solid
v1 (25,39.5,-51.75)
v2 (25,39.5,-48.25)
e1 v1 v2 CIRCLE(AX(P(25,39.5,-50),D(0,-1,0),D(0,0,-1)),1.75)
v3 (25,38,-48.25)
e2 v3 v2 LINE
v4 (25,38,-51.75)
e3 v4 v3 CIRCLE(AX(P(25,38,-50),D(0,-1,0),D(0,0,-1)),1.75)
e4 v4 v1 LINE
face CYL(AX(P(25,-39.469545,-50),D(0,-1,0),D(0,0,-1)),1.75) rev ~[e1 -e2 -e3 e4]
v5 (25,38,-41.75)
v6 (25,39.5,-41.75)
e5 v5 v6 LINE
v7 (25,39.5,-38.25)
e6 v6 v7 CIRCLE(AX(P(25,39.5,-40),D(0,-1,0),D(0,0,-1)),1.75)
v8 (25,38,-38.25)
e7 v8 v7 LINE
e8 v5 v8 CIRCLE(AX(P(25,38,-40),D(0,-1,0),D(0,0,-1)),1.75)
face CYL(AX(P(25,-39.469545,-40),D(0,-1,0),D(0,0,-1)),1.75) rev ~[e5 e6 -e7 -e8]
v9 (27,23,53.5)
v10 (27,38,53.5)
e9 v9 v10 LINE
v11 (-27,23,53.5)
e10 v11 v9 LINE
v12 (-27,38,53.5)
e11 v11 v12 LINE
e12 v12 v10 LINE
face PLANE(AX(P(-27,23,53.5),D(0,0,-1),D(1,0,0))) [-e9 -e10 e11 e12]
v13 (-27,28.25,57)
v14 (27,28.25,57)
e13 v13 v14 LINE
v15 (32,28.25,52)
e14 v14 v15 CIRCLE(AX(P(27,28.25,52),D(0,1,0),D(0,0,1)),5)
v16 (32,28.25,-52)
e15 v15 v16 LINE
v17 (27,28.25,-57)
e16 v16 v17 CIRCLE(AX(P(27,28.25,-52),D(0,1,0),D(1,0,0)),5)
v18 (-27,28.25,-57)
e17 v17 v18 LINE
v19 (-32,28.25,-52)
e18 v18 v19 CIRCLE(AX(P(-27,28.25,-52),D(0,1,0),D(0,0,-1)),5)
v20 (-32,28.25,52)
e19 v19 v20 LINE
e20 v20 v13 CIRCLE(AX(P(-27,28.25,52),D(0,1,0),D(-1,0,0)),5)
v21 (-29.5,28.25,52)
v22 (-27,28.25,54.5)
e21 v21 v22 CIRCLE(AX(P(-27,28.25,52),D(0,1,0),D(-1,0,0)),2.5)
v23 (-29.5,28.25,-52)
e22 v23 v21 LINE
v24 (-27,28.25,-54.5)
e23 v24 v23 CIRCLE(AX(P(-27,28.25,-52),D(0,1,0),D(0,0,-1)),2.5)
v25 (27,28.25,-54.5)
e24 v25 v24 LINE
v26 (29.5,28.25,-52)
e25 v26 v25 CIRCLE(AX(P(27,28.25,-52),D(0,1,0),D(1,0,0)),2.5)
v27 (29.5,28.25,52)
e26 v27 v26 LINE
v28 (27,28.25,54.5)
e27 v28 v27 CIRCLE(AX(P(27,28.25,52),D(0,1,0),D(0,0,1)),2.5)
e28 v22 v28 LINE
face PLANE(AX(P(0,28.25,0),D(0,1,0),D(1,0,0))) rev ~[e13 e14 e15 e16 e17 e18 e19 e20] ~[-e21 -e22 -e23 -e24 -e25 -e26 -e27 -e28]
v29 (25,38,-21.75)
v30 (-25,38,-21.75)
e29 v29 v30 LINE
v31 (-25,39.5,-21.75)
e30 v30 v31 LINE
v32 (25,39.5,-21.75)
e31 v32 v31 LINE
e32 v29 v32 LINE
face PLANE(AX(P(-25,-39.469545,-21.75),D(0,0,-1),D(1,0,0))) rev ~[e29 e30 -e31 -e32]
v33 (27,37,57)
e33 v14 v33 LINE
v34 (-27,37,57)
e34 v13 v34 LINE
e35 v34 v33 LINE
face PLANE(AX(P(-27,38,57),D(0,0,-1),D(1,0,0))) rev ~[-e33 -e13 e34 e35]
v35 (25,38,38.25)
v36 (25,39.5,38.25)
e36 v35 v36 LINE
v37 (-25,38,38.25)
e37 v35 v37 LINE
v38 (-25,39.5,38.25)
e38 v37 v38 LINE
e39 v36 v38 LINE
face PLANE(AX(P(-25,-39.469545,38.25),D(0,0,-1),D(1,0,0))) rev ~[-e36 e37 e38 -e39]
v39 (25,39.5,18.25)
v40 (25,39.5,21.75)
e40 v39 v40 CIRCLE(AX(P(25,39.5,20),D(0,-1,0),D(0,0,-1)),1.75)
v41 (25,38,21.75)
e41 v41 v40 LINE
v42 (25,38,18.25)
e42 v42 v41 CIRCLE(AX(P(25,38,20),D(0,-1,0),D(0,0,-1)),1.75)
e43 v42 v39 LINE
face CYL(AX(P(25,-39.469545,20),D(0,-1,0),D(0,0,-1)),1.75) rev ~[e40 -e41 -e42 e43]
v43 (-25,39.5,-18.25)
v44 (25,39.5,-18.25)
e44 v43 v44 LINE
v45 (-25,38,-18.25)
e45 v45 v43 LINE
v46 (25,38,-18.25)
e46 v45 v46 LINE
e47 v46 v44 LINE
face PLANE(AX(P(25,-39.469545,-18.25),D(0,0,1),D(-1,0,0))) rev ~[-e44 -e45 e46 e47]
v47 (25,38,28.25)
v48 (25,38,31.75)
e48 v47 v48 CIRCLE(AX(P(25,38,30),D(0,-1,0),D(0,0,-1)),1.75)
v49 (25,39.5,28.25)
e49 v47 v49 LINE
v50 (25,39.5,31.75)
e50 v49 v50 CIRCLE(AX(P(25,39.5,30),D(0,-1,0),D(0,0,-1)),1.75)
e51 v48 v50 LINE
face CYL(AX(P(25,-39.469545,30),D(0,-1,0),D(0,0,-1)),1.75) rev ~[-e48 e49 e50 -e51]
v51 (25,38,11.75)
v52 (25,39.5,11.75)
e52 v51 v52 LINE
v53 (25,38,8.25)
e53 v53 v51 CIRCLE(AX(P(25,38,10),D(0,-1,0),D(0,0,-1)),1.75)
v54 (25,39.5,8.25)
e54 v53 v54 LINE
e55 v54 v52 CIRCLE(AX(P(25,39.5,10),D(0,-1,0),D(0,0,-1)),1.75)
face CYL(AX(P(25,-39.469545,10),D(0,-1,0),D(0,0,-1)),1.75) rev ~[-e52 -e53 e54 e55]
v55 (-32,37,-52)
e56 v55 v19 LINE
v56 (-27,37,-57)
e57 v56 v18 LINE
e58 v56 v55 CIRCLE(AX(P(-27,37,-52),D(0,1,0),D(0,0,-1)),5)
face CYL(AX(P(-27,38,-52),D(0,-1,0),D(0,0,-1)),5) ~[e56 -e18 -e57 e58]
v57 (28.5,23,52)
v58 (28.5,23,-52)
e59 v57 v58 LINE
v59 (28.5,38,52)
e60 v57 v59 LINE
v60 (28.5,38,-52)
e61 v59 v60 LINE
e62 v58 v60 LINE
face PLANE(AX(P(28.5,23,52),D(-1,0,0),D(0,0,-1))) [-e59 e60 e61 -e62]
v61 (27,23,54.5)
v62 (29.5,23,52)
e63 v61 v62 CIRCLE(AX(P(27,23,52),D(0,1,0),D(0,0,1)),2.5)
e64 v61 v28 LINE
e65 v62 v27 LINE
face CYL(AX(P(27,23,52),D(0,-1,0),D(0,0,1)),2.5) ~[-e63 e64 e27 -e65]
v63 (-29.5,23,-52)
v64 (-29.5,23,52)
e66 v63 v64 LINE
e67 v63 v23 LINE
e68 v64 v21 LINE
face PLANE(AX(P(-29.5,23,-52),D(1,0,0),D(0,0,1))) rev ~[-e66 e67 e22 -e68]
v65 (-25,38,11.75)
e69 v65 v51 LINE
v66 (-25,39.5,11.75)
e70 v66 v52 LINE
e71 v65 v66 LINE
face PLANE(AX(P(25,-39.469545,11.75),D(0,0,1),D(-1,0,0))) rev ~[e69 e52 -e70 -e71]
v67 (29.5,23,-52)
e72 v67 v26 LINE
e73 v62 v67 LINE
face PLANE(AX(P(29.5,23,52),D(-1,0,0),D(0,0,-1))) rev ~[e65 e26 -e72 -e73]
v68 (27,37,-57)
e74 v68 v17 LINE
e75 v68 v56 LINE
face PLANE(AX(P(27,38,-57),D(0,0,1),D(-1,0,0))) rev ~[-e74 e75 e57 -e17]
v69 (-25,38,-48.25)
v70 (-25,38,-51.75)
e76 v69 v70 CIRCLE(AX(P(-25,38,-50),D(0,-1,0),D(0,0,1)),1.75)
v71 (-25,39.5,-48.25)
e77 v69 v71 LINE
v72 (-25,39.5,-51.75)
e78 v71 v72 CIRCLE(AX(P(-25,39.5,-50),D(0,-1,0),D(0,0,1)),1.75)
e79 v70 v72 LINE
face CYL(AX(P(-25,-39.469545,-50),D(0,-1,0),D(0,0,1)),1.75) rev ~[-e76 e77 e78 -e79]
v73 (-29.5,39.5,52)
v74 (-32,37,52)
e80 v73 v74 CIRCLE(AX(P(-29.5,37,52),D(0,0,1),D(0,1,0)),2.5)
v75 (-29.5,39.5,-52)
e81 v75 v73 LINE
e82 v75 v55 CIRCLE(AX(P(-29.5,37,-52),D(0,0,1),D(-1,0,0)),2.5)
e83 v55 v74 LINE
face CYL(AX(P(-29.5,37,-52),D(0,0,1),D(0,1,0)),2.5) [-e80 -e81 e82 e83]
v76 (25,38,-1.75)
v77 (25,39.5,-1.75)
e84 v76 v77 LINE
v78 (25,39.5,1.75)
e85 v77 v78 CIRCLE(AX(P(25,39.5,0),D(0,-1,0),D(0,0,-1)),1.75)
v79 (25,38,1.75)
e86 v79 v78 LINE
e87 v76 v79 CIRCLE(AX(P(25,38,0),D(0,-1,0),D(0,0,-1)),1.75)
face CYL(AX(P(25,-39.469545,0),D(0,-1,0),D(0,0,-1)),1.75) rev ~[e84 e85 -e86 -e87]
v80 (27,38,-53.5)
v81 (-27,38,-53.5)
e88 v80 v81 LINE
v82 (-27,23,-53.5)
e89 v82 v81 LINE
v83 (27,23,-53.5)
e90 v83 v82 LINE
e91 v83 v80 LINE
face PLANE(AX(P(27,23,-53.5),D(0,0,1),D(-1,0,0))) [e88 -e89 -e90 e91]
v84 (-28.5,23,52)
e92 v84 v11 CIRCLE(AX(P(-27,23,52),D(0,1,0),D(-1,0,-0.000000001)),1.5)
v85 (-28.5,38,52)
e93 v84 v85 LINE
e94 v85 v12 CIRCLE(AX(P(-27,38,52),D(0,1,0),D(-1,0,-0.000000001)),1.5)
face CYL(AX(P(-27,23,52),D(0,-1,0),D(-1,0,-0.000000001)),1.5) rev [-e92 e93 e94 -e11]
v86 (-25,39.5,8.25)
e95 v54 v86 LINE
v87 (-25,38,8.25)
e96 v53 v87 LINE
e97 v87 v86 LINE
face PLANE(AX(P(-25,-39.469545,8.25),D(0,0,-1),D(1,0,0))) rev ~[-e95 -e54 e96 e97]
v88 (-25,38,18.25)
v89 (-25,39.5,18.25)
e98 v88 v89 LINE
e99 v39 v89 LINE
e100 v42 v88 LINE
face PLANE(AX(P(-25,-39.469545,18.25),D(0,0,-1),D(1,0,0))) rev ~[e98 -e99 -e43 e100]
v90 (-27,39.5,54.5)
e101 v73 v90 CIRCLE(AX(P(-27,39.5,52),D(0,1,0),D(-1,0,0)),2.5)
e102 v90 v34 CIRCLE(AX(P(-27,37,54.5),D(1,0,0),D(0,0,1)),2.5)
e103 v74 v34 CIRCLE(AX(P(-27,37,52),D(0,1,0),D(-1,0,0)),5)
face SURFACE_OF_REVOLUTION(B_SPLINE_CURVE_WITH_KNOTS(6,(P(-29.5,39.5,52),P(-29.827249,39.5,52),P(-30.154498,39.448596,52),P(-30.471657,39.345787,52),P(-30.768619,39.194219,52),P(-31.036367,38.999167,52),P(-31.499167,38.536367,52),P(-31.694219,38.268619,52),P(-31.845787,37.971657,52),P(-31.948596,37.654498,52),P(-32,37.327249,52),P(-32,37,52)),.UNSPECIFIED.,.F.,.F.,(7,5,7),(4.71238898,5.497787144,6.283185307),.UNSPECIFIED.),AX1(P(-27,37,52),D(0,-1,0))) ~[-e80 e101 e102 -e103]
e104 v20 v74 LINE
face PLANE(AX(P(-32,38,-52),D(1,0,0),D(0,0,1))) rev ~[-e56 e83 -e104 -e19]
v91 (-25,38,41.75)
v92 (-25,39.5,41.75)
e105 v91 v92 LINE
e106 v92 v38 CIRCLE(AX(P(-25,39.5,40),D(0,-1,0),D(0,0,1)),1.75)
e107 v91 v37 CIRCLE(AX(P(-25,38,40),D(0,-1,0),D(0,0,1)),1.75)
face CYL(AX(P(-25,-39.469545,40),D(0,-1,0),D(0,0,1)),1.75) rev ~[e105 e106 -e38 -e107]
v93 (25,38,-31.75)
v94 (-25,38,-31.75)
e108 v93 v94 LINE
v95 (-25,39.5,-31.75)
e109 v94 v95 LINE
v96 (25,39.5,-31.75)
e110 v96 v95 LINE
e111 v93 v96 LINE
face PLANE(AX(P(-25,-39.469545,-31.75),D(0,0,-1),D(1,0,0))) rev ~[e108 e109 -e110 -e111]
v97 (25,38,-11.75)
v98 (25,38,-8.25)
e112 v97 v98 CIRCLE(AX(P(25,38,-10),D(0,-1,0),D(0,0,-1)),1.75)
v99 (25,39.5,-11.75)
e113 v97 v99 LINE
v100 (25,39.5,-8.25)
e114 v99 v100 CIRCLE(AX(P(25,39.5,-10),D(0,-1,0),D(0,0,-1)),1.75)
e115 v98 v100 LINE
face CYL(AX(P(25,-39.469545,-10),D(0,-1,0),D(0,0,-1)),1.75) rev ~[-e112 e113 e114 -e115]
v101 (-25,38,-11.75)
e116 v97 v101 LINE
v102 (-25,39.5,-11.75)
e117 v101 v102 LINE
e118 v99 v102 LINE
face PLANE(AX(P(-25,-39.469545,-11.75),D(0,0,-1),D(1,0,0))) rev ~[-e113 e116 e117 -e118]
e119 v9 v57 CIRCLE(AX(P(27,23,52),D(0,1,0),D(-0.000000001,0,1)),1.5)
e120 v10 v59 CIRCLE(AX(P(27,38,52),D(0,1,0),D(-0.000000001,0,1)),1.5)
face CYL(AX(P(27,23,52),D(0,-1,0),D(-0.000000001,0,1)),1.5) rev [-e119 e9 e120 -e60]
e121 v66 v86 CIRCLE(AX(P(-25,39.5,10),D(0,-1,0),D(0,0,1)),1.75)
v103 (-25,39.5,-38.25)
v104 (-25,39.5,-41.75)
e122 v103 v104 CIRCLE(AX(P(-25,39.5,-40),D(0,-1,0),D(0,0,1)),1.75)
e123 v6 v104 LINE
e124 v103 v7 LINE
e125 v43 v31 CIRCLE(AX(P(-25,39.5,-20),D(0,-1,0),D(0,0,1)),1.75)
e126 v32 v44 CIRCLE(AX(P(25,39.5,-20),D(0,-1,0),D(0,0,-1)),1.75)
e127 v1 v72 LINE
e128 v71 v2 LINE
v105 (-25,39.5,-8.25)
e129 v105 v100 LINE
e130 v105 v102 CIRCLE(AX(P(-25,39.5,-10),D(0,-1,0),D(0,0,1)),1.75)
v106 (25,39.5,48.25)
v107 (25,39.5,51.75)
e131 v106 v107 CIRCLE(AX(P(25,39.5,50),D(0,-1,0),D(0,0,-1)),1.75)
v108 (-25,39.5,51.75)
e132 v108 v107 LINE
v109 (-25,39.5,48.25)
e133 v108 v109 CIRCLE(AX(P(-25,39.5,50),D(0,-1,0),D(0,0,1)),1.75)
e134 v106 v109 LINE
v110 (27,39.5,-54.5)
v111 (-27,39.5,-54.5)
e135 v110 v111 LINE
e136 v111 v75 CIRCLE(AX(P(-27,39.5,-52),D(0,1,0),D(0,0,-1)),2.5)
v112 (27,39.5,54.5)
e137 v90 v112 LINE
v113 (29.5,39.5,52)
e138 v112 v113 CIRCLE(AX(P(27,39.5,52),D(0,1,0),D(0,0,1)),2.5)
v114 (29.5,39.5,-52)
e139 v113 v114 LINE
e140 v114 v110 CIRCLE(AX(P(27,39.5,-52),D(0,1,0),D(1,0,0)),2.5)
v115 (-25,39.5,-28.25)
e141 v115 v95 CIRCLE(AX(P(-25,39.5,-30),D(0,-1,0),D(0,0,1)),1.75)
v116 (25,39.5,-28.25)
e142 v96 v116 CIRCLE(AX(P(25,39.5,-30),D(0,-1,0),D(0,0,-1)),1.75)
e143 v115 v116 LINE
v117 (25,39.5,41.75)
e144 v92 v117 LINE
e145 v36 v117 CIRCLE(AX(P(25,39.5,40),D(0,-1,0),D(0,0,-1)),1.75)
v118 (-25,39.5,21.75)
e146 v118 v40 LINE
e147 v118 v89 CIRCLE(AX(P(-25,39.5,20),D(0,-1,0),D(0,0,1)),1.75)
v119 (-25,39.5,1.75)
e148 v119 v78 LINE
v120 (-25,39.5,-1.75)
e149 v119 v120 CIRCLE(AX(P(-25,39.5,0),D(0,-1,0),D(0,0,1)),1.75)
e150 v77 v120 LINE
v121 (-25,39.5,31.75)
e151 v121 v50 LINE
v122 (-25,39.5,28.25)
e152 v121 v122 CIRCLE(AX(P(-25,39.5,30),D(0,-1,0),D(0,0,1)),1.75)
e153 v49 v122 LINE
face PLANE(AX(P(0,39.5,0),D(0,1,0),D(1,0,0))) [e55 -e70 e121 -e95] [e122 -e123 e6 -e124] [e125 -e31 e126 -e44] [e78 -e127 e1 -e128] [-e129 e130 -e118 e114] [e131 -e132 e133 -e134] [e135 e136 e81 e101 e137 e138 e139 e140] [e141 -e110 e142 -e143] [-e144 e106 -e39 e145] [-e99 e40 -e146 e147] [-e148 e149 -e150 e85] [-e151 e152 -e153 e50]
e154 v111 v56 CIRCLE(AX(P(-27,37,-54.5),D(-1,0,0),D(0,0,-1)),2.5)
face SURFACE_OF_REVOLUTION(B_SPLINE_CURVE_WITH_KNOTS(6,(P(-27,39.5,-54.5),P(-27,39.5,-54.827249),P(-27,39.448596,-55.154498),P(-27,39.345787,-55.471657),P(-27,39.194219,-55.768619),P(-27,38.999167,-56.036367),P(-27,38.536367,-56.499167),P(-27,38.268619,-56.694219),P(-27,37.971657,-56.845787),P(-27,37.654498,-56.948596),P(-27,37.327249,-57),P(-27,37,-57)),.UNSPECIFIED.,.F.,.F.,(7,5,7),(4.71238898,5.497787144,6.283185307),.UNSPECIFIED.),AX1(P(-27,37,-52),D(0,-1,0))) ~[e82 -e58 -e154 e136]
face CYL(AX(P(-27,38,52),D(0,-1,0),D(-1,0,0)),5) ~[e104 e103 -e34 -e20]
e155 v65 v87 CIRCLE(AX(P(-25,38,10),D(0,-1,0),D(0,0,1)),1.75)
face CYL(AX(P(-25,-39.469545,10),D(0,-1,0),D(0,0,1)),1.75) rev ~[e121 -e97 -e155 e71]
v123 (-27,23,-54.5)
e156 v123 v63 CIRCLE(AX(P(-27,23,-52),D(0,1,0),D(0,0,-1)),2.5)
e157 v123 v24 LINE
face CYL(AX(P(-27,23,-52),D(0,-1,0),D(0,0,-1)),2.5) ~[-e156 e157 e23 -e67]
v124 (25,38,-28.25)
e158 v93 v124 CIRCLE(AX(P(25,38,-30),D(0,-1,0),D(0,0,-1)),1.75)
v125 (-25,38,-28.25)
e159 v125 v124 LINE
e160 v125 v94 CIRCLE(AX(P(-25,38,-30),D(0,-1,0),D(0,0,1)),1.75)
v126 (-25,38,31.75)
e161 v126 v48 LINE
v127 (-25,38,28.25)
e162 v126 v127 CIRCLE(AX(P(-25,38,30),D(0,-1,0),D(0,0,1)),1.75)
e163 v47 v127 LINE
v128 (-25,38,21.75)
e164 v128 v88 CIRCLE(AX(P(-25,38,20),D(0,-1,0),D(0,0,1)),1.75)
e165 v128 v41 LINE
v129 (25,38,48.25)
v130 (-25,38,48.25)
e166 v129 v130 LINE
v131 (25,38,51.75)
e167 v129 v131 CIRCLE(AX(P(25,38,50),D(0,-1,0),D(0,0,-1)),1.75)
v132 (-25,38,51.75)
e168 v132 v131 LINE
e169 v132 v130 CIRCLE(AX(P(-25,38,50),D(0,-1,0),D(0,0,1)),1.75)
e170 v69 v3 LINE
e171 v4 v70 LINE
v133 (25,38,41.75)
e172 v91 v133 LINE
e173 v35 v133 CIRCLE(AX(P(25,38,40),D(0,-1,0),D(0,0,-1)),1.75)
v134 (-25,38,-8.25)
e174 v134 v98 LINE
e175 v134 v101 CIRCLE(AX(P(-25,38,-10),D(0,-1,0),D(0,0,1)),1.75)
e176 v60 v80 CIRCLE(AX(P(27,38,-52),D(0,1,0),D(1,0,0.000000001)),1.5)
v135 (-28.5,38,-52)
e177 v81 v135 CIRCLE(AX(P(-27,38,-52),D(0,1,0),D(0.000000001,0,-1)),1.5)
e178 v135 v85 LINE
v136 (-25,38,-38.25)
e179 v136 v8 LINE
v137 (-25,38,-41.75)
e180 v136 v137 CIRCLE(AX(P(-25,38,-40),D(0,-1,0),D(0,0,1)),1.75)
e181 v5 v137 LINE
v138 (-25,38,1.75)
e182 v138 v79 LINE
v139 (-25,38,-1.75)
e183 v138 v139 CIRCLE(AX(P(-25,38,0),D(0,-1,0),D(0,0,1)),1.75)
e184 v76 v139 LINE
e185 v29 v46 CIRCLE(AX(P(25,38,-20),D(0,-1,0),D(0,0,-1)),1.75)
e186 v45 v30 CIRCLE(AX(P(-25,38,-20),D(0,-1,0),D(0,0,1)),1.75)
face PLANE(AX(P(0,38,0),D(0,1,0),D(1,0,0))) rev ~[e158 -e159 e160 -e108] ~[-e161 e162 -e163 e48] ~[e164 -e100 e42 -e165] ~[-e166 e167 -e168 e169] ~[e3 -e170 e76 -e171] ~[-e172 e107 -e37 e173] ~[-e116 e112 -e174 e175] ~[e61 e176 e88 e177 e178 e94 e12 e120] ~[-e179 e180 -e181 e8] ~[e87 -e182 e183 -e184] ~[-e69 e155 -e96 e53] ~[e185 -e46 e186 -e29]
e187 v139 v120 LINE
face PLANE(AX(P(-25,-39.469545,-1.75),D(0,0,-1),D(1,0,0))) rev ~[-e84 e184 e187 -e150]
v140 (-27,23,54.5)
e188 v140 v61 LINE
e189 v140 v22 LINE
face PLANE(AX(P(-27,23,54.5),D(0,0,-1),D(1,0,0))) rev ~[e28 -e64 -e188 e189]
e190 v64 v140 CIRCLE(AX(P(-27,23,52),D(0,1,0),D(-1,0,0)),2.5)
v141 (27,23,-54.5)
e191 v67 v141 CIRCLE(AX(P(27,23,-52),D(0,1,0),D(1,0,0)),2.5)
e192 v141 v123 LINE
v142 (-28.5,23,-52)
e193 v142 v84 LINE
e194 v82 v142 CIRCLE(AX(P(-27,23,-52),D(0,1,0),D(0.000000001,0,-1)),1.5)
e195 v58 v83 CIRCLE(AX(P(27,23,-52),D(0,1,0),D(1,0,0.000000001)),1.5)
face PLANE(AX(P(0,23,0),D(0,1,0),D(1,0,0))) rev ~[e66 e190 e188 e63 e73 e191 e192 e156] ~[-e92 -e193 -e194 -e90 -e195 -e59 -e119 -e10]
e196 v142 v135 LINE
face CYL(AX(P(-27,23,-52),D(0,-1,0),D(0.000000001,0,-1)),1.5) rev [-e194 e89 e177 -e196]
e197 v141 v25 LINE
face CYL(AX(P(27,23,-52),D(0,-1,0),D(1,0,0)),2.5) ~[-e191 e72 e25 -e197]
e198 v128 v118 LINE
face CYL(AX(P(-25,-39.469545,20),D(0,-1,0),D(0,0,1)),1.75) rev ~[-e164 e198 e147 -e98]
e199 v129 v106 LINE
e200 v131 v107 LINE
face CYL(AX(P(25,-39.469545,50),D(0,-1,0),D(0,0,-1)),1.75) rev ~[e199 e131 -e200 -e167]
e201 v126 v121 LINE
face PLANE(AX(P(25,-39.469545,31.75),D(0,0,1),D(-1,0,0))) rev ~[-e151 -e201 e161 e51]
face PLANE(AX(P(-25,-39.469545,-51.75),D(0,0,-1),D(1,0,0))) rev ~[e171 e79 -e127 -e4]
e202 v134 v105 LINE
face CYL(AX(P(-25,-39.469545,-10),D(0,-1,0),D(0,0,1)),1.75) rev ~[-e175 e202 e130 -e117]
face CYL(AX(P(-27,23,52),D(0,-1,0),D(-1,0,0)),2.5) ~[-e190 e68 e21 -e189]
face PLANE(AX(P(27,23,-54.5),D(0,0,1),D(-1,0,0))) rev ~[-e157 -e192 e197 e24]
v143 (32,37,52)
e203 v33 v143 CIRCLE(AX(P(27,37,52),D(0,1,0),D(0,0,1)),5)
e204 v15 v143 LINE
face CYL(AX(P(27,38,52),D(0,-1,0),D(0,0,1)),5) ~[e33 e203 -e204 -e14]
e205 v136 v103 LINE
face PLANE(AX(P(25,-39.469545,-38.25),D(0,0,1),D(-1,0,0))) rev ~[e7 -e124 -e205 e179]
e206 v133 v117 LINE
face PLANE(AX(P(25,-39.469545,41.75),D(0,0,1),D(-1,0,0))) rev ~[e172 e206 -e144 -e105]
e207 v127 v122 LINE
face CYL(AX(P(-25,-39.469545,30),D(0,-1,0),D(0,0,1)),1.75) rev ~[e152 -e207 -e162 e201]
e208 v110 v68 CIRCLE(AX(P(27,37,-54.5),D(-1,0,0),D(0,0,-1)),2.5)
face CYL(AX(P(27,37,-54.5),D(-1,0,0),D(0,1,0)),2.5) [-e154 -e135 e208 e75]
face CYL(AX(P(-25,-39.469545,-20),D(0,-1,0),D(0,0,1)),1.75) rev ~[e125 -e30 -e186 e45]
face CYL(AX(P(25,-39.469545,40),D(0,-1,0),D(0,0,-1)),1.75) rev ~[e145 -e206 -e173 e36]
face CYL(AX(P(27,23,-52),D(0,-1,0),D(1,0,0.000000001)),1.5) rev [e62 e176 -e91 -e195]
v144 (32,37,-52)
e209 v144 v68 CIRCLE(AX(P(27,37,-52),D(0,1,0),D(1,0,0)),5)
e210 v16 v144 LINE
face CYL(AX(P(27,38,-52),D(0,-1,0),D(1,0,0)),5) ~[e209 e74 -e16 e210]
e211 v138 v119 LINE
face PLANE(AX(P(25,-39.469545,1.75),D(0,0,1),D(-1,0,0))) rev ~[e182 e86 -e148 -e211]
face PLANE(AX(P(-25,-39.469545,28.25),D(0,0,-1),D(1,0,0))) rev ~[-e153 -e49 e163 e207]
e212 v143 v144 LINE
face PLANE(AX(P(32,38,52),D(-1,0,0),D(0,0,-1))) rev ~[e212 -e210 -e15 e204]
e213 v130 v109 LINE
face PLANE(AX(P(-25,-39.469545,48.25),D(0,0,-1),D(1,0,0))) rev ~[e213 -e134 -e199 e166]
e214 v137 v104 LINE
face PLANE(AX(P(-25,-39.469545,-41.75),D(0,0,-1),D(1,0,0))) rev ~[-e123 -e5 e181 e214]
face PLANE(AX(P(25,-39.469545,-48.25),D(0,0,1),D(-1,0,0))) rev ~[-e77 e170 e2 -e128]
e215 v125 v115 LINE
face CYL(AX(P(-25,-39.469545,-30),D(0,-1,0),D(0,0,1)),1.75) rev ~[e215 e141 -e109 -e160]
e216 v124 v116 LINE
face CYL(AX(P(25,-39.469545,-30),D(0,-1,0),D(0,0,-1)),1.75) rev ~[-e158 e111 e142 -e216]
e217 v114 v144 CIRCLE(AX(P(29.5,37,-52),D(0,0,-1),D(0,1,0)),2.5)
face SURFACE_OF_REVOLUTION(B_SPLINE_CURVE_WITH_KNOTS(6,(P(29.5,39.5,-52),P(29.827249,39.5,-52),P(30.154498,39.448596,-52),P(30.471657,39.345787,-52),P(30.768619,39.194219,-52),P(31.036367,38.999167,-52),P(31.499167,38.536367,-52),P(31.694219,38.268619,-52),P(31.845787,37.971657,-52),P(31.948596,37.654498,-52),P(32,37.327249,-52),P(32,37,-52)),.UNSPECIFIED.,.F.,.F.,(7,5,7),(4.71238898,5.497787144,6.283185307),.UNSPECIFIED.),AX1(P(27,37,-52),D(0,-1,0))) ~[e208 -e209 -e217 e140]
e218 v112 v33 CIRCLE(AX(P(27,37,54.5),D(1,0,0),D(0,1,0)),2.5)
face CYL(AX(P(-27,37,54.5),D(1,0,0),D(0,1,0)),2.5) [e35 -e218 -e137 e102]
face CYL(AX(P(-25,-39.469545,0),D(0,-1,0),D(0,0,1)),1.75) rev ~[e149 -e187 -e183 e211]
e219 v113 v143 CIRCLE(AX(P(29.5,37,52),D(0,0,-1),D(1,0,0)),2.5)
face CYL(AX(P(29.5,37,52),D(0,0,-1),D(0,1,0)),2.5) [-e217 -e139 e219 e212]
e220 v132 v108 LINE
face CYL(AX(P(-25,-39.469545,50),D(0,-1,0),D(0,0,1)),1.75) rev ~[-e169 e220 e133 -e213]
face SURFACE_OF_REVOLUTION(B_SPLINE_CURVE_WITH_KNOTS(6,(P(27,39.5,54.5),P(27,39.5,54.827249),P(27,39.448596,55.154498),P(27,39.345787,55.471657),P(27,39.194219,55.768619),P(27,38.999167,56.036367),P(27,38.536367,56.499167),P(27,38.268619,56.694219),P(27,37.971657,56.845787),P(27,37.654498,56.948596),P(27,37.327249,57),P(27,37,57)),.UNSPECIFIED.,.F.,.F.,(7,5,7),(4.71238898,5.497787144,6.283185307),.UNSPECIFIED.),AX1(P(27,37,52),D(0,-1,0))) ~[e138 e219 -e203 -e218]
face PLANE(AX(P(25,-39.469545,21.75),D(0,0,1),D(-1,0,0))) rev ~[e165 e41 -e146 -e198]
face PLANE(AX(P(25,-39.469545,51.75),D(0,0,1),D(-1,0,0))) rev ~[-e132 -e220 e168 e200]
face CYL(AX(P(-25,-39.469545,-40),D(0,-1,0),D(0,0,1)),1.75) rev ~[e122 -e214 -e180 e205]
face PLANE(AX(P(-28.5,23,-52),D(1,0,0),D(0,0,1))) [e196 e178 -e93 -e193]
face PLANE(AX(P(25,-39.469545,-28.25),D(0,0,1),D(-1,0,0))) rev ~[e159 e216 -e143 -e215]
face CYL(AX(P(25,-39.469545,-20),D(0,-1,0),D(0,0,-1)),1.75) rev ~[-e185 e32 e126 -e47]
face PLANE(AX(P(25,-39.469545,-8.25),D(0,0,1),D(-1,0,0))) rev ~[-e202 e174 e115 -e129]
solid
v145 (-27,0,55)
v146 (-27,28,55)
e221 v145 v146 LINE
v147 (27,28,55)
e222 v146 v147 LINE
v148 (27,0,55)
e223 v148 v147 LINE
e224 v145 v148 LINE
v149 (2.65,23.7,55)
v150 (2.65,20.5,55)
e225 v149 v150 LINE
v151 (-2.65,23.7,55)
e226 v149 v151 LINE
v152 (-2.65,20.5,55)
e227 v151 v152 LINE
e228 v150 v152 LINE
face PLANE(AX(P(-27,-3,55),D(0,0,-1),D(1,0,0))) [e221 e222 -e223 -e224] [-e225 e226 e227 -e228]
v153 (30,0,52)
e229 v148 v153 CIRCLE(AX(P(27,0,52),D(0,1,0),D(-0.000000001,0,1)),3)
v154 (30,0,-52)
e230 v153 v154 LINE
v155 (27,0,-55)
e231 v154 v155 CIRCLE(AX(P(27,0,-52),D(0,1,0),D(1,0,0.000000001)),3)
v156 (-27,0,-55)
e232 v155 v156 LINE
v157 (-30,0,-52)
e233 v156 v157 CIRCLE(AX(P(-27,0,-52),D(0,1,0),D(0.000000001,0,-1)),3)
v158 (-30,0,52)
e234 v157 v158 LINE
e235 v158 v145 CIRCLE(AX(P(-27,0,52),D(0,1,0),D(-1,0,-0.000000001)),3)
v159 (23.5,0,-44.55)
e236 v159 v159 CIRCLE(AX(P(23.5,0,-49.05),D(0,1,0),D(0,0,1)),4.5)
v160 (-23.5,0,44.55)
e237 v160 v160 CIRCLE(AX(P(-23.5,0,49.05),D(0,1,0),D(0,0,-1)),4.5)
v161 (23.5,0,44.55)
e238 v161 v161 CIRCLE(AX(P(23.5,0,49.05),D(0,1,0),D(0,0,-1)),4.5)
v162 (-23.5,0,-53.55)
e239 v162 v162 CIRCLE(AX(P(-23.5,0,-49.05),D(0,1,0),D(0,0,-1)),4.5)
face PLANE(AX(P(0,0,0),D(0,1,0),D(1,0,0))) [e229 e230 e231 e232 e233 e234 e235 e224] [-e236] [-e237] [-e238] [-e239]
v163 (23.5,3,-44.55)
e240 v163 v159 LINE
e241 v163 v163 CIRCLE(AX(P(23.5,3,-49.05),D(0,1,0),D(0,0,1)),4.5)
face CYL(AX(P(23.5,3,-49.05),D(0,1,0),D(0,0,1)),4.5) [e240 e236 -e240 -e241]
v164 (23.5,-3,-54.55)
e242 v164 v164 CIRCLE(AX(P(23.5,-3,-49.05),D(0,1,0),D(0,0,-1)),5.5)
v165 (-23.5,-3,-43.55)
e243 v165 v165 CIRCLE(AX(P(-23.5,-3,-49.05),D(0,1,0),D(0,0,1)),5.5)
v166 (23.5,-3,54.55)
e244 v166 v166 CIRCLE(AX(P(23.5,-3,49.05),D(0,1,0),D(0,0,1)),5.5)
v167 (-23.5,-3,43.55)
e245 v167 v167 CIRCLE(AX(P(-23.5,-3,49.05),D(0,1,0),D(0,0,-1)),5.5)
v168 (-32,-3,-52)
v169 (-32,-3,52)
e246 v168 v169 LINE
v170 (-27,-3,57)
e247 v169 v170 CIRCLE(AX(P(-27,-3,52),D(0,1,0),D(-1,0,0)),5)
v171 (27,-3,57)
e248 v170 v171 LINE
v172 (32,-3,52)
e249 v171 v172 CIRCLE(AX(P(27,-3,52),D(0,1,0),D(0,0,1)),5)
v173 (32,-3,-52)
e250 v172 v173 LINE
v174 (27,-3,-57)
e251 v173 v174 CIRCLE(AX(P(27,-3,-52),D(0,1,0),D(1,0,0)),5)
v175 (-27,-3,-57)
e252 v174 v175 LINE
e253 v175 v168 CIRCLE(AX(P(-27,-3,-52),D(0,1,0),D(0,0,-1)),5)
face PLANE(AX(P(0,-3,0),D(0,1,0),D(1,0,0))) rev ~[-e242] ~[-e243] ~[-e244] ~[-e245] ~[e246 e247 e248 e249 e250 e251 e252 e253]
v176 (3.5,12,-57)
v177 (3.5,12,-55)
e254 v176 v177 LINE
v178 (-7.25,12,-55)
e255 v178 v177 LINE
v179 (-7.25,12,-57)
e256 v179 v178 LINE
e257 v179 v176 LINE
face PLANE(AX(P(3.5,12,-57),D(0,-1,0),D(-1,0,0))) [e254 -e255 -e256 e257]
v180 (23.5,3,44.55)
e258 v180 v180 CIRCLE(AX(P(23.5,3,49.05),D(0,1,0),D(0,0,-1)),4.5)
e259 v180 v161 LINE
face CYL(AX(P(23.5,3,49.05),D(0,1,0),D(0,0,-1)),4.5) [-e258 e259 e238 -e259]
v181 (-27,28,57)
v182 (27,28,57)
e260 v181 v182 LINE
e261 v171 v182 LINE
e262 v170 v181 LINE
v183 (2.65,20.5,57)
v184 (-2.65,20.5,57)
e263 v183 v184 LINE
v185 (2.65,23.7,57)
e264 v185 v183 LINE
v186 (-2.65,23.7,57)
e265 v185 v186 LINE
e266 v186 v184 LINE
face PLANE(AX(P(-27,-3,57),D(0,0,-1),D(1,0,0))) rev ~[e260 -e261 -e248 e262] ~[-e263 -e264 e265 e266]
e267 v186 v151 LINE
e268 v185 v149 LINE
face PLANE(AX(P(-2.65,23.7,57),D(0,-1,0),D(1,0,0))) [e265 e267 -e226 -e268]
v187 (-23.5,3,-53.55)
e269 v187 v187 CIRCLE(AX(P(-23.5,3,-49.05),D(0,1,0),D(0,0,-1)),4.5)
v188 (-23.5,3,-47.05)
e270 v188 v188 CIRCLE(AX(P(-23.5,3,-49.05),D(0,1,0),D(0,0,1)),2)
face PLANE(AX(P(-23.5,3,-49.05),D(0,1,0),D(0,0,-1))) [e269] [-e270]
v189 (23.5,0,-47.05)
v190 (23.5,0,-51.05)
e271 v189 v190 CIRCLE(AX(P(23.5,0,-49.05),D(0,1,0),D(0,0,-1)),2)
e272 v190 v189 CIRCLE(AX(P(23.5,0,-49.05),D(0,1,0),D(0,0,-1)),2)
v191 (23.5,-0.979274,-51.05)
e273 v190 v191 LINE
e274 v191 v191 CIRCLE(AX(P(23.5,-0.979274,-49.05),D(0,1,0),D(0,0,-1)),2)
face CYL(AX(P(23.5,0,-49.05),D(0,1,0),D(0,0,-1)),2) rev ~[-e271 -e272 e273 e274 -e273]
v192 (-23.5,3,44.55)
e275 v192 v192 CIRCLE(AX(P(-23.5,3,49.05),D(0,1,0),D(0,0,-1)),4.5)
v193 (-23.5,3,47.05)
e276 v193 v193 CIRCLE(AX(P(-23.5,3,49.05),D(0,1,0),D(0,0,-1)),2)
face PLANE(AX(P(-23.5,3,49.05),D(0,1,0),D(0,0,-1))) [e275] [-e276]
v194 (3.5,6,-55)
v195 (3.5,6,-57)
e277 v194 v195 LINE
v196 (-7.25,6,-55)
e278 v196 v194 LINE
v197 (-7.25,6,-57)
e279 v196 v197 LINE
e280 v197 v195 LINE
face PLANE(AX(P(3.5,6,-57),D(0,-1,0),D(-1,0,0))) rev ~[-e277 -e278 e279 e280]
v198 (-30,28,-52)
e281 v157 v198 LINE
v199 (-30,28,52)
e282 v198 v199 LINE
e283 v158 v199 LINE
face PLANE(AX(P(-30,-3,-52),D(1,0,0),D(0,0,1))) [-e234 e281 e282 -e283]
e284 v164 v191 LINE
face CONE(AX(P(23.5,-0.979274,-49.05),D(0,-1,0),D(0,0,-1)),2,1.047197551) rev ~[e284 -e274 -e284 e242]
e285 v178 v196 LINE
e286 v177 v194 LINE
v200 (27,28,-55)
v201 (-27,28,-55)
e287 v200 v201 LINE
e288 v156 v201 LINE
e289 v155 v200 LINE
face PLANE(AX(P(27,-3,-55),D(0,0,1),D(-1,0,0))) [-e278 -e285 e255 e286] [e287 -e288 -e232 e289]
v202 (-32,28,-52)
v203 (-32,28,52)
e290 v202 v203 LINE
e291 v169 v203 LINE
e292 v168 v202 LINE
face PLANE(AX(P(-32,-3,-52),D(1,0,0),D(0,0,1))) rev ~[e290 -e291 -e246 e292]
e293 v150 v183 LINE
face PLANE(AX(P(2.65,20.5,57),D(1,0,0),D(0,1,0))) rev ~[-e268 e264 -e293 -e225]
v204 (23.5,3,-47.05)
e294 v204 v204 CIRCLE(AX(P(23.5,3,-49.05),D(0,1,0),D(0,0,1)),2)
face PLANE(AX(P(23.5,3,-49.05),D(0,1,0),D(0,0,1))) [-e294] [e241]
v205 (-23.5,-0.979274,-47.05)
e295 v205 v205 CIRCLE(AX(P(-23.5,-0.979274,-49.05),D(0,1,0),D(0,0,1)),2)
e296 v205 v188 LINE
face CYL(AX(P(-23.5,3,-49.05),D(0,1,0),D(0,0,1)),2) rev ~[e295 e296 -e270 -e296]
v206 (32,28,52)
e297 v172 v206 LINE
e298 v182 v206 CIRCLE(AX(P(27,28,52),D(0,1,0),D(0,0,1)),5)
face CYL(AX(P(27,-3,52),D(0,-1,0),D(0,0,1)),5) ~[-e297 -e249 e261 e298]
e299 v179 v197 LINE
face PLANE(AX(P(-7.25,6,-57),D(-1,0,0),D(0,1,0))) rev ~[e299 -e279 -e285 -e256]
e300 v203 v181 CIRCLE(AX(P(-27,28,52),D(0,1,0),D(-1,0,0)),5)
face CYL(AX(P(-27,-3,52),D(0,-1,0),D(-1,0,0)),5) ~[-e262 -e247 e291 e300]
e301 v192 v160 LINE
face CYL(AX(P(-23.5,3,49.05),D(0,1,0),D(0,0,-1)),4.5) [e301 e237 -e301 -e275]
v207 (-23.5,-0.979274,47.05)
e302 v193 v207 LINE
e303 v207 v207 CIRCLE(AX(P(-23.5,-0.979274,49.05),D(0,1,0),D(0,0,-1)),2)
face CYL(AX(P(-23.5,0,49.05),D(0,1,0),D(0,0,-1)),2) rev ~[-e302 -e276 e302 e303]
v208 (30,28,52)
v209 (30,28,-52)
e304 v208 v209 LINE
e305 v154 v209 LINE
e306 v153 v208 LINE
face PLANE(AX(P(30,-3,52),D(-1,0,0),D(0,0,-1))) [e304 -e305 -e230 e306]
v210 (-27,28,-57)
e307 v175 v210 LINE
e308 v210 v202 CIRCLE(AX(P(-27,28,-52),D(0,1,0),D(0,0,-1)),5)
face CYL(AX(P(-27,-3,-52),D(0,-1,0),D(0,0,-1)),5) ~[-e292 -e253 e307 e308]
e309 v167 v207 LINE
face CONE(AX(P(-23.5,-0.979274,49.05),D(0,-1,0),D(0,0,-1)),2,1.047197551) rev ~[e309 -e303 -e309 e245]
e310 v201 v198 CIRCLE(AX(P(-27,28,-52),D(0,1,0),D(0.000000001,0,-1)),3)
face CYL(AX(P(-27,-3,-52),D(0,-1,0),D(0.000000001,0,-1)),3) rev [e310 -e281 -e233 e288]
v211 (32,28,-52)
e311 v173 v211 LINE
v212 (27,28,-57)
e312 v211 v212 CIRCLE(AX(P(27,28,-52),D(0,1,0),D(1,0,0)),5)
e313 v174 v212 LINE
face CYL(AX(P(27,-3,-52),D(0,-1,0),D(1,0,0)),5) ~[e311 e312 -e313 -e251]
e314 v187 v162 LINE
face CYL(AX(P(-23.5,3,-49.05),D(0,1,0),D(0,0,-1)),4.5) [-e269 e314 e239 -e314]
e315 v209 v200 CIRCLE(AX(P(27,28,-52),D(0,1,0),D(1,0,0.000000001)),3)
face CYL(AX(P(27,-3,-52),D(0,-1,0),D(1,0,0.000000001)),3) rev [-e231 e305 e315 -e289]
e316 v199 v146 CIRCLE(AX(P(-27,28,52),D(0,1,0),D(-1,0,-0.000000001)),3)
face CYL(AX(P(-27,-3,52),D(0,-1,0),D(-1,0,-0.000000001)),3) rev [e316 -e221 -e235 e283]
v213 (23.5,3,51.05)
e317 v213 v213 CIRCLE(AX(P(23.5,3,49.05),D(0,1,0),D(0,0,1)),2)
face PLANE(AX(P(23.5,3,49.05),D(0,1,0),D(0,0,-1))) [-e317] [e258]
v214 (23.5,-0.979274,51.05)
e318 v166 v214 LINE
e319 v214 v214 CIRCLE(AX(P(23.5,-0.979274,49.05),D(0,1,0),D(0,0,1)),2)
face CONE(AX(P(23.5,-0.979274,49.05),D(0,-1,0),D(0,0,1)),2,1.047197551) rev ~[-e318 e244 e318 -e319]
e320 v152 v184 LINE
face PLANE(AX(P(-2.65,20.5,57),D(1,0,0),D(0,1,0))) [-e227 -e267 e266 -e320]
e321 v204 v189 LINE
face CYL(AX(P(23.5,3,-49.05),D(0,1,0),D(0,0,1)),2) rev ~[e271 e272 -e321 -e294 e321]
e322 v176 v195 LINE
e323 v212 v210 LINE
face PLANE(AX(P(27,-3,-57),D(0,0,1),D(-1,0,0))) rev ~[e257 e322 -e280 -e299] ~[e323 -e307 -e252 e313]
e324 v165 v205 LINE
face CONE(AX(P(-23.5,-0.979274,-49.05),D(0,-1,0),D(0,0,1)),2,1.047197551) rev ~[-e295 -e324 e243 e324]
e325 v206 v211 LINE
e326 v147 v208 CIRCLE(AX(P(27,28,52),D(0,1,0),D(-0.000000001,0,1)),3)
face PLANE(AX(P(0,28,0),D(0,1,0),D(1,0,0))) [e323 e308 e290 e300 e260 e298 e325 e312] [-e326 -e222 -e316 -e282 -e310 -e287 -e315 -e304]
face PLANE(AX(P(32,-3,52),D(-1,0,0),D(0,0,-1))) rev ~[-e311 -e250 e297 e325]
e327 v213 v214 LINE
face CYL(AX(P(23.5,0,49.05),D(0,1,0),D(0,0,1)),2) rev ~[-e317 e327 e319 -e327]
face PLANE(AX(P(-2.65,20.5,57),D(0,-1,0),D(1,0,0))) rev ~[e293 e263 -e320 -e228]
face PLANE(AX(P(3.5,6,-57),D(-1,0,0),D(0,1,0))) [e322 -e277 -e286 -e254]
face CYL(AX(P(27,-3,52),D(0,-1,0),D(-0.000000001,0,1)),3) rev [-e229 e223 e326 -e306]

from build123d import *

# Parameters (mm, degrees)
SKETCH1_R                = 2
BOSS_EXTRUDE1_DEPTH      = 3
BOSS_EXTRUDE2_START      = 3
SKETCH1_3_R              = 4.5
SKETCH1_3_R_2            = 2
BOSS_EXTRUDE2_DEPTH      = 3
BOSS_EXTRUDE3_DEPTH      = 28
BOSS_EXTRUDE3_DEPTH_BACK = 3
CHAMFER1_SIZE            = 3.5
CHAMFER1_SIZE2           = 2.020725942
SKETCH3_W                = 10.75
SKETCH3_H                = 6
CUT_EXTRUDE4_DEPTH       = 2.5
SKETCH4_W                = 5.3
SKETCH4_H                = 3.2
CUT_EXTRUDE5_DEPTH       = 2.5
BOSS_EXTRUDE4_DEPTH      = 10
BOSS_EXTRUDE4_DEPTH_BACK = 5
BOSS_EXTRUDE5_START      = -9.75
BOSS_EXTRUDE5_DEPTH      = 9.75
BOSS_EXTRUDE6_DEPTH      = 1.5
FILLET1_R                = 2.5
CUT_EXTRUDE6_DEPTH       = 78.96954541
CUT_EXTRUDE6_DEPTH_BACK  = 78.96954541


with BuildPart() as part:
    # Sketch1 → Boss-Extrude1 (new body)
    with BuildSketch(Plane(origin=(0, 0, 0), x_dir=(1, 0, 0), z_dir=(0, 1, 0))):
        with BuildLine():
            Line((27, 55), (-27, 55))
            ThreePointArc((-27, 55), (-29.121320344, 54.121320344), (-30, 52))
            Line((-30, 52), (-30, -52))
            ThreePointArc((-30, -52), (-29.121320344, -54.121320344), (-27, -55))
            Line((-27, -55), (27, -55))
            ThreePointArc((27, -55), (29.121320344, -54.121320344), (30, -52))
            Line((30, -52), (30, 52))
            ThreePointArc((30, 52), (29.121320344, 54.121320344), (27, 55))
        make_face()
        with Locations(Location((-23.5, 49.05, 0), (0, 0, 270))):
            Circle(SKETCH1_R, mode=Mode.SUBTRACT)
        with Locations(Location((23.5, 49.05, 0), (0, 0, 90))):
            Circle(SKETCH1_R, mode=Mode.SUBTRACT)
        with Locations(Location((23.5, -49.05, 0), (0, 0, 270))):
            Circle(SKETCH1_R, mode=Mode.SUBTRACT)
        with Locations(Location((-23.5, -49.05, 0), (0, 0, 90))):
            Circle(SKETCH1_R, mode=Mode.SUBTRACT)
    extrude(amount=-BOSS_EXTRUDE1_DEPTH)

    # Sketch1<3> → Boss-Extrude2 (add)
    # profile 1 of 4: a face of its own
    with BuildSketch(Plane(origin=(0, 0, 0), x_dir=(1, 0, 0), z_dir=(0, 1, 0)).offset(BOSS_EXTRUDE2_START)):
        with Locations(Location((-23.5, 49.05, 0), (0, 0, 90))):
            Circle(SKETCH1_3_R)
        with Locations(Location((-23.5, 49.05, 0), (0, 0, 270))):
            Circle(SKETCH1_3_R_2, mode=Mode.SUBTRACT)
    # profile 2 of 4: a face of its own
    with BuildSketch(Plane(origin=(0, 0, 0), x_dir=(1, 0, 0), z_dir=(0, 1, 0)).offset(BOSS_EXTRUDE2_START)):
        with Locations(Location((23.5, 49.05, 0), (0, 0, 270))):
            Circle(SKETCH1_3_R)
        with Locations(Location((23.5, 49.05, 0), (0, 0, 270))):
            Circle(SKETCH1_3_R_2, mode=Mode.SUBTRACT)
    # profile 3 of 4: a face of its own
    with BuildSketch(Plane(origin=(0, 0, 0), x_dir=(1, 0, 0), z_dir=(0, 1, 0)).offset(BOSS_EXTRUDE2_START)):
        with Locations(Location((-23.5, -49.05, 0), (0, 0, 90))):
            Circle(SKETCH1_3_R)
        with Locations(Location((-23.5, -49.05, 0), (0, 0, 90))):
            Circle(SKETCH1_3_R_2, mode=Mode.SUBTRACT)
    # profile 4 of 4: a face of its own
    with BuildSketch(Plane(origin=(0, 0, 0), x_dir=(1, 0, 0), z_dir=(0, 1, 0)).offset(BOSS_EXTRUDE2_START)):
        with Locations(Location((23.5, -49.05, 0), (0, 0, 90))):
            Circle(SKETCH1_3_R)
        with Locations(Location((23.5, -49.05, 0), (0, 0, 270))):
            Circle(SKETCH1_3_R_2, mode=Mode.SUBTRACT)
    extrude(amount=-BOSS_EXTRUDE2_DEPTH)

    # Sketch2 → Boss-Extrude3 (add, two sides: drawn at the far end of the back side and taken through both)
    with BuildSketch(Plane(origin=(0, 0, 0), x_dir=(1, 0, 0), z_dir=(0, 1, 0)).offset(-BOSS_EXTRUDE3_DEPTH_BACK)):
        with BuildLine():
            Line((-32, 52), (-32, -52))
            ThreePointArc((-32, -52), (-30.535533906, -55.535533906), (-27, -57))
            Line((-27, -57), (27, -57))
            ThreePointArc((27, -57), (30.535533906, -55.535533906), (32, -52))
            Line((32, -52), (32, 52))
            ThreePointArc((32, 52), (30.535533906, 55.535533906), (27, 57))
            Line((27, 57), (-27, 57))
            ThreePointArc((-27, 57), (-30.535533906, 55.535533906), (-32, 52))
        make_face()
        with BuildLine():
            ThreePointArc((-30, -52), (-29.121320344, -54.121320344), (-27, -55))
            Line((-27, -55), (27, -55))
            ThreePointArc((27, -55), (29.121320344, -54.121320344), (30, -52))
            Line((30, -52), (30, 52))
            ThreePointArc((30, 52), (29.121320344, 54.121320344), (27, 55))
            Line((27, 55), (-27, 55))
            ThreePointArc((-27, 55), (-29.121320344, 54.121320344), (-30, 52))
            Line((-30, 52), (-30, -52))
        make_face(mode=Mode.SUBTRACT)
    extrude(amount=BOSS_EXTRUDE3_DEPTH + BOSS_EXTRUDE3_DEPTH_BACK)

    # Chamfer1
    chamfer1_edges = [part.edges().sort_by_distance(p)[0] for p in [
        (-23.5, -3, -51.05),
        (-23.5, -3, 51.05),
        (23.5, -3, -47.05),
        (23.5, -3, 47.05),
    ]]
    chamfer1_side = [part.faces().sort_by_distance(p)[0] for p in [
        (0, -3, 0),
    ]]
    chamfer(chamfer1_edges, length=CHAMFER1_SIZE, length2=CHAMFER1_SIZE2, reference=chamfer1_side[0])

    # Sketch3 → Cut-Extrude4 (cut, symmetric)
    with BuildSketch(Plane(origin=(0, 0, -57), x_dir=(-1, 0, 0), z_dir=(0, 0, -1))):
        with Locations((1.875, 9)):
            Rectangle(SKETCH3_W, SKETCH3_H)
    extrude(amount=CUT_EXTRUDE4_DEPTH, both=True, mode=Mode.SUBTRACT)

    # Sketch4 → Cut-Extrude5 (cut, symmetric)
    with BuildSketch(Plane.XY.offset(57)):
        with Locations((0, 22.1)):
            Rectangle(SKETCH4_W, SKETCH4_H)
    extrude(amount=CUT_EXTRUDE5_DEPTH, both=True, mode=Mode.SUBTRACT)


with BuildPart() as body_2:
    # Sketch5 → Boss-Extrude4 (new, two sides: drawn at the far end of the back side and taken through both)
    with BuildSketch(Plane(origin=(0, 28, 0), x_dir=(1, 0, 0), z_dir=(0, 1, 0)).offset(-BOSS_EXTRUDE4_DEPTH_BACK)):
        with BuildLine():
            Line((-27, -54.5), (27, -54.5))
            ThreePointArc((27, -54.5), (28.767766953, -53.767766953), (29.5, -52))
            Line((29.5, -52), (29.5, 52))
            ThreePointArc((29.5, 52), (28.767766953, 53.767766953), (27, 54.5))
            Line((27, 54.5), (-27, 54.5))
            ThreePointArc((-27, 54.5), (-28.767766953, 53.767766953), (-29.5, 52))
            Line((-29.5, 52), (-29.5, -52))
            ThreePointArc((-29.5, -52), (-28.767766953, -53.767766953), (-27, -54.5))
        make_face()
        with BuildLine():
            Line((-28.5, 52), (-28.5, -52))
            ThreePointArc((-28.5, -52), (-28.060660172, -53.060660172), (-27, -53.5))
            Line((-27, -53.5), (27, -53.5))
            ThreePointArc((27, -53.5), (28.060660172, -53.060660172), (28.5, -52))
            Line((28.5, -52), (28.5, 52))
            ThreePointArc((28.5, 52), (28.060660172, 53.060660172), (27, 53.5))
            Line((27, 53.5), (-27, 53.5))
            ThreePointArc((-27, 53.5), (-28.060660172, 53.060660172), (-28.5, 52))
        make_face(mode=Mode.SUBTRACT)
    extrude(amount=BOSS_EXTRUDE4_DEPTH + BOSS_EXTRUDE4_DEPTH_BACK)

    # Sketch6 → Boss-Extrude5 (add)
    with BuildSketch(Plane(origin=(0, 38, 0), x_dir=(1, 0, 0), z_dir=(0, 1, 0)).offset(BOSS_EXTRUDE5_START)):
        with BuildLine():
            Line((-32, 52), (-32, -52))
            ThreePointArc((-32, -52), (-30.535533906, -55.535533906), (-27, -57))
            Line((-27, -57), (27, -57))
            ThreePointArc((27, -57), (30.535533906, -55.535533906), (32, -52))
            Line((32, -52), (32, 52))
            ThreePointArc((32, 52), (30.535533906, 55.535533906), (27, 57))
            Line((27, 57), (-27, 57))
            ThreePointArc((-27, 57), (-30.535533906, 55.535533906), (-32, 52))
        make_face()
        with BuildLine():
            Line((-27, -54.5), (27, -54.5))
            ThreePointArc((27, -54.5), (28.767766953, -53.767766953), (29.5, -52))
            Line((29.5, -52), (29.5, 52))
            ThreePointArc((29.5, 52), (28.767766953, 53.767766953), (27, 54.5))
            Line((27, 54.5), (-27, 54.5))
            ThreePointArc((-27, 54.5), (-28.767766953, 53.767766953), (-29.5, 52))
            Line((-29.5, 52), (-29.5, -52))
            ThreePointArc((-29.5, -52), (-28.767766953, -53.767766953), (-27, -54.5))
        make_face(mode=Mode.SUBTRACT)
    extrude(amount=BOSS_EXTRUDE5_DEPTH)

    # Sketch7 → Boss-Extrude6 (add)
    with BuildSketch(Plane(origin=(0, 38, 0), x_dir=(1, 0, 0), z_dir=(0, 1, 0))):
        with BuildLine():
            Line((-32, 52), (-32, -52))
            ThreePointArc((-32, -52), (-30.535533906, -55.535533906), (-27, -57))
            Line((-27, -57), (27, -57))
            ThreePointArc((27, -57), (30.535533906, -55.535533906), (32, -52))
            Line((32, -52), (32, 52))
            ThreePointArc((32, 52), (30.535533906, 55.535533906), (27, 57))
            Line((27, 57), (-27, 57))
            ThreePointArc((-27, 57), (-30.535533906, 55.535533906), (-32, 52))
        make_face()
    extrude(amount=BOSS_EXTRUDE6_DEPTH)

    # Fillet1
    fillet1_edges = [body_2.edges().sort_by_distance(p)[0] for p in [
        (-30.535533906, 39.5, -55.535533906),
        (-32, 39.5, 0),
        (-30.535533906, 39.5, 55.535533906),
        (0, 39.5, 57),
        (30.535533906, 39.5, 55.535533906),
        (32, 39.5, 0),
        (30.535533906, 39.5, -55.535533906),
        (0, 39.5, -57),
    ]]
    fillet(fillet1_edges, radius=FILLET1_R)

    # Sketch8 → Cut-Extrude6 (cut, two sides: drawn at the far end of the back side and taken through both)
    with BuildSketch(Plane(origin=(0, 39.5, 0), x_dir=(1, 0, 0), z_dir=(0, 1, 0)).offset(-CUT_EXTRUDE6_DEPTH_BACK)):
        with BuildLine():
            Line((-25, 51.75), (25, 51.75))
            ThreePointArc((25, 51.75), (26.75, 50), (25, 48.25))
            Line((25, 48.25), (-25, 48.25))
            ThreePointArc((-25, 48.25), (-26.75, 50), (-25, 51.75))
        make_face()
        with BuildLine():
            Line((-25, 41.75), (25, 41.75))
            ThreePointArc((25, 41.75), (26.75, 40), (25, 38.25))
            Line((25, 38.25), (-25, 38.25))
            ThreePointArc((-25, 38.25), (-26.75, 40), (-25, 41.75))
        make_face()
        with BuildLine():
            Line((-25, 31.75), (25, 31.75))
            ThreePointArc((25, 31.75), (26.75, 30), (25, 28.25))
            Line((25, 28.25), (-25, 28.25))
            ThreePointArc((-25, 28.25), (-26.75, 30), (-25, 31.75))
        make_face()
        with BuildLine():
            Line((-25, 21.75), (25, 21.75))
            ThreePointArc((25, 21.75), (26.75, 20), (25, 18.25))
            Line((25, 18.25), (-25, 18.25))
            ThreePointArc((-25, 18.25), (-26.75, 20), (-25, 21.75))
        make_face()
        with BuildLine():
            Line((-25, 11.75), (25, 11.75))
            ThreePointArc((25, 11.75), (26.75, 10), (25, 8.25))
            Line((25, 8.25), (-25, 8.25))
            ThreePointArc((-25, 8.25), (-26.75, 10), (-25, 11.75))
        make_face()
        with BuildLine():
            Line((-25, 1.75), (25, 1.75))
            ThreePointArc((25, 1.75), (26.75, 0), (25, -1.75))
            Line((25, -1.75), (-25, -1.75))
            ThreePointArc((-25, -1.75), (-26.75, 0), (-25, 1.75))
        make_face()
        with BuildLine():
            Line((-25, -8.25), (25, -8.25))
            ThreePointArc((25, -8.25), (26.75, -10), (25, -11.75))
            Line((25, -11.75), (-25, -11.75))
            ThreePointArc((-25, -11.75), (-26.75, -10), (-25, -8.25))
        make_face()
        with BuildLine():
            Line((-25, -18.25), (25, -18.25))
            ThreePointArc((25, -18.25), (26.75, -20), (25, -21.75))
            Line((25, -21.75), (-25, -21.75))
            ThreePointArc((-25, -21.75), (-26.75, -20), (-25, -18.25))
        make_face()
        with BuildLine():
            Line((-25, -28.25), (25, -28.25))
            ThreePointArc((25, -28.25), (26.75, -30), (25, -31.75))
            Line((25, -31.75), (-25, -31.75))
            ThreePointArc((-25, -31.75), (-26.75, -30), (-25, -28.25))
        make_face()
        with BuildLine():
            Line((-25, -38.25), (25, -38.25))
            ThreePointArc((25, -38.25), (26.75, -40), (25, -41.75))
            Line((25, -41.75), (-25, -41.75))
            ThreePointArc((-25, -41.75), (-26.75, -40), (-25, -38.25))
        make_face()
        with BuildLine():
            Line((-25, -48.25), (25, -48.25))
            ThreePointArc((25, -48.25), (26.75, -50), (25, -51.75))
            Line((25, -51.75), (-25, -51.75))
            ThreePointArc((-25, -51.75), (-26.75, -50), (-25, -48.25))
        make_face()
    extrude(amount=CUT_EXTRUDE6_DEPTH + CUT_EXTRUDE6_DEPTH_BACK, mode=Mode.SUBTRACT)


solid = Compound([part.part, body_2.part])
